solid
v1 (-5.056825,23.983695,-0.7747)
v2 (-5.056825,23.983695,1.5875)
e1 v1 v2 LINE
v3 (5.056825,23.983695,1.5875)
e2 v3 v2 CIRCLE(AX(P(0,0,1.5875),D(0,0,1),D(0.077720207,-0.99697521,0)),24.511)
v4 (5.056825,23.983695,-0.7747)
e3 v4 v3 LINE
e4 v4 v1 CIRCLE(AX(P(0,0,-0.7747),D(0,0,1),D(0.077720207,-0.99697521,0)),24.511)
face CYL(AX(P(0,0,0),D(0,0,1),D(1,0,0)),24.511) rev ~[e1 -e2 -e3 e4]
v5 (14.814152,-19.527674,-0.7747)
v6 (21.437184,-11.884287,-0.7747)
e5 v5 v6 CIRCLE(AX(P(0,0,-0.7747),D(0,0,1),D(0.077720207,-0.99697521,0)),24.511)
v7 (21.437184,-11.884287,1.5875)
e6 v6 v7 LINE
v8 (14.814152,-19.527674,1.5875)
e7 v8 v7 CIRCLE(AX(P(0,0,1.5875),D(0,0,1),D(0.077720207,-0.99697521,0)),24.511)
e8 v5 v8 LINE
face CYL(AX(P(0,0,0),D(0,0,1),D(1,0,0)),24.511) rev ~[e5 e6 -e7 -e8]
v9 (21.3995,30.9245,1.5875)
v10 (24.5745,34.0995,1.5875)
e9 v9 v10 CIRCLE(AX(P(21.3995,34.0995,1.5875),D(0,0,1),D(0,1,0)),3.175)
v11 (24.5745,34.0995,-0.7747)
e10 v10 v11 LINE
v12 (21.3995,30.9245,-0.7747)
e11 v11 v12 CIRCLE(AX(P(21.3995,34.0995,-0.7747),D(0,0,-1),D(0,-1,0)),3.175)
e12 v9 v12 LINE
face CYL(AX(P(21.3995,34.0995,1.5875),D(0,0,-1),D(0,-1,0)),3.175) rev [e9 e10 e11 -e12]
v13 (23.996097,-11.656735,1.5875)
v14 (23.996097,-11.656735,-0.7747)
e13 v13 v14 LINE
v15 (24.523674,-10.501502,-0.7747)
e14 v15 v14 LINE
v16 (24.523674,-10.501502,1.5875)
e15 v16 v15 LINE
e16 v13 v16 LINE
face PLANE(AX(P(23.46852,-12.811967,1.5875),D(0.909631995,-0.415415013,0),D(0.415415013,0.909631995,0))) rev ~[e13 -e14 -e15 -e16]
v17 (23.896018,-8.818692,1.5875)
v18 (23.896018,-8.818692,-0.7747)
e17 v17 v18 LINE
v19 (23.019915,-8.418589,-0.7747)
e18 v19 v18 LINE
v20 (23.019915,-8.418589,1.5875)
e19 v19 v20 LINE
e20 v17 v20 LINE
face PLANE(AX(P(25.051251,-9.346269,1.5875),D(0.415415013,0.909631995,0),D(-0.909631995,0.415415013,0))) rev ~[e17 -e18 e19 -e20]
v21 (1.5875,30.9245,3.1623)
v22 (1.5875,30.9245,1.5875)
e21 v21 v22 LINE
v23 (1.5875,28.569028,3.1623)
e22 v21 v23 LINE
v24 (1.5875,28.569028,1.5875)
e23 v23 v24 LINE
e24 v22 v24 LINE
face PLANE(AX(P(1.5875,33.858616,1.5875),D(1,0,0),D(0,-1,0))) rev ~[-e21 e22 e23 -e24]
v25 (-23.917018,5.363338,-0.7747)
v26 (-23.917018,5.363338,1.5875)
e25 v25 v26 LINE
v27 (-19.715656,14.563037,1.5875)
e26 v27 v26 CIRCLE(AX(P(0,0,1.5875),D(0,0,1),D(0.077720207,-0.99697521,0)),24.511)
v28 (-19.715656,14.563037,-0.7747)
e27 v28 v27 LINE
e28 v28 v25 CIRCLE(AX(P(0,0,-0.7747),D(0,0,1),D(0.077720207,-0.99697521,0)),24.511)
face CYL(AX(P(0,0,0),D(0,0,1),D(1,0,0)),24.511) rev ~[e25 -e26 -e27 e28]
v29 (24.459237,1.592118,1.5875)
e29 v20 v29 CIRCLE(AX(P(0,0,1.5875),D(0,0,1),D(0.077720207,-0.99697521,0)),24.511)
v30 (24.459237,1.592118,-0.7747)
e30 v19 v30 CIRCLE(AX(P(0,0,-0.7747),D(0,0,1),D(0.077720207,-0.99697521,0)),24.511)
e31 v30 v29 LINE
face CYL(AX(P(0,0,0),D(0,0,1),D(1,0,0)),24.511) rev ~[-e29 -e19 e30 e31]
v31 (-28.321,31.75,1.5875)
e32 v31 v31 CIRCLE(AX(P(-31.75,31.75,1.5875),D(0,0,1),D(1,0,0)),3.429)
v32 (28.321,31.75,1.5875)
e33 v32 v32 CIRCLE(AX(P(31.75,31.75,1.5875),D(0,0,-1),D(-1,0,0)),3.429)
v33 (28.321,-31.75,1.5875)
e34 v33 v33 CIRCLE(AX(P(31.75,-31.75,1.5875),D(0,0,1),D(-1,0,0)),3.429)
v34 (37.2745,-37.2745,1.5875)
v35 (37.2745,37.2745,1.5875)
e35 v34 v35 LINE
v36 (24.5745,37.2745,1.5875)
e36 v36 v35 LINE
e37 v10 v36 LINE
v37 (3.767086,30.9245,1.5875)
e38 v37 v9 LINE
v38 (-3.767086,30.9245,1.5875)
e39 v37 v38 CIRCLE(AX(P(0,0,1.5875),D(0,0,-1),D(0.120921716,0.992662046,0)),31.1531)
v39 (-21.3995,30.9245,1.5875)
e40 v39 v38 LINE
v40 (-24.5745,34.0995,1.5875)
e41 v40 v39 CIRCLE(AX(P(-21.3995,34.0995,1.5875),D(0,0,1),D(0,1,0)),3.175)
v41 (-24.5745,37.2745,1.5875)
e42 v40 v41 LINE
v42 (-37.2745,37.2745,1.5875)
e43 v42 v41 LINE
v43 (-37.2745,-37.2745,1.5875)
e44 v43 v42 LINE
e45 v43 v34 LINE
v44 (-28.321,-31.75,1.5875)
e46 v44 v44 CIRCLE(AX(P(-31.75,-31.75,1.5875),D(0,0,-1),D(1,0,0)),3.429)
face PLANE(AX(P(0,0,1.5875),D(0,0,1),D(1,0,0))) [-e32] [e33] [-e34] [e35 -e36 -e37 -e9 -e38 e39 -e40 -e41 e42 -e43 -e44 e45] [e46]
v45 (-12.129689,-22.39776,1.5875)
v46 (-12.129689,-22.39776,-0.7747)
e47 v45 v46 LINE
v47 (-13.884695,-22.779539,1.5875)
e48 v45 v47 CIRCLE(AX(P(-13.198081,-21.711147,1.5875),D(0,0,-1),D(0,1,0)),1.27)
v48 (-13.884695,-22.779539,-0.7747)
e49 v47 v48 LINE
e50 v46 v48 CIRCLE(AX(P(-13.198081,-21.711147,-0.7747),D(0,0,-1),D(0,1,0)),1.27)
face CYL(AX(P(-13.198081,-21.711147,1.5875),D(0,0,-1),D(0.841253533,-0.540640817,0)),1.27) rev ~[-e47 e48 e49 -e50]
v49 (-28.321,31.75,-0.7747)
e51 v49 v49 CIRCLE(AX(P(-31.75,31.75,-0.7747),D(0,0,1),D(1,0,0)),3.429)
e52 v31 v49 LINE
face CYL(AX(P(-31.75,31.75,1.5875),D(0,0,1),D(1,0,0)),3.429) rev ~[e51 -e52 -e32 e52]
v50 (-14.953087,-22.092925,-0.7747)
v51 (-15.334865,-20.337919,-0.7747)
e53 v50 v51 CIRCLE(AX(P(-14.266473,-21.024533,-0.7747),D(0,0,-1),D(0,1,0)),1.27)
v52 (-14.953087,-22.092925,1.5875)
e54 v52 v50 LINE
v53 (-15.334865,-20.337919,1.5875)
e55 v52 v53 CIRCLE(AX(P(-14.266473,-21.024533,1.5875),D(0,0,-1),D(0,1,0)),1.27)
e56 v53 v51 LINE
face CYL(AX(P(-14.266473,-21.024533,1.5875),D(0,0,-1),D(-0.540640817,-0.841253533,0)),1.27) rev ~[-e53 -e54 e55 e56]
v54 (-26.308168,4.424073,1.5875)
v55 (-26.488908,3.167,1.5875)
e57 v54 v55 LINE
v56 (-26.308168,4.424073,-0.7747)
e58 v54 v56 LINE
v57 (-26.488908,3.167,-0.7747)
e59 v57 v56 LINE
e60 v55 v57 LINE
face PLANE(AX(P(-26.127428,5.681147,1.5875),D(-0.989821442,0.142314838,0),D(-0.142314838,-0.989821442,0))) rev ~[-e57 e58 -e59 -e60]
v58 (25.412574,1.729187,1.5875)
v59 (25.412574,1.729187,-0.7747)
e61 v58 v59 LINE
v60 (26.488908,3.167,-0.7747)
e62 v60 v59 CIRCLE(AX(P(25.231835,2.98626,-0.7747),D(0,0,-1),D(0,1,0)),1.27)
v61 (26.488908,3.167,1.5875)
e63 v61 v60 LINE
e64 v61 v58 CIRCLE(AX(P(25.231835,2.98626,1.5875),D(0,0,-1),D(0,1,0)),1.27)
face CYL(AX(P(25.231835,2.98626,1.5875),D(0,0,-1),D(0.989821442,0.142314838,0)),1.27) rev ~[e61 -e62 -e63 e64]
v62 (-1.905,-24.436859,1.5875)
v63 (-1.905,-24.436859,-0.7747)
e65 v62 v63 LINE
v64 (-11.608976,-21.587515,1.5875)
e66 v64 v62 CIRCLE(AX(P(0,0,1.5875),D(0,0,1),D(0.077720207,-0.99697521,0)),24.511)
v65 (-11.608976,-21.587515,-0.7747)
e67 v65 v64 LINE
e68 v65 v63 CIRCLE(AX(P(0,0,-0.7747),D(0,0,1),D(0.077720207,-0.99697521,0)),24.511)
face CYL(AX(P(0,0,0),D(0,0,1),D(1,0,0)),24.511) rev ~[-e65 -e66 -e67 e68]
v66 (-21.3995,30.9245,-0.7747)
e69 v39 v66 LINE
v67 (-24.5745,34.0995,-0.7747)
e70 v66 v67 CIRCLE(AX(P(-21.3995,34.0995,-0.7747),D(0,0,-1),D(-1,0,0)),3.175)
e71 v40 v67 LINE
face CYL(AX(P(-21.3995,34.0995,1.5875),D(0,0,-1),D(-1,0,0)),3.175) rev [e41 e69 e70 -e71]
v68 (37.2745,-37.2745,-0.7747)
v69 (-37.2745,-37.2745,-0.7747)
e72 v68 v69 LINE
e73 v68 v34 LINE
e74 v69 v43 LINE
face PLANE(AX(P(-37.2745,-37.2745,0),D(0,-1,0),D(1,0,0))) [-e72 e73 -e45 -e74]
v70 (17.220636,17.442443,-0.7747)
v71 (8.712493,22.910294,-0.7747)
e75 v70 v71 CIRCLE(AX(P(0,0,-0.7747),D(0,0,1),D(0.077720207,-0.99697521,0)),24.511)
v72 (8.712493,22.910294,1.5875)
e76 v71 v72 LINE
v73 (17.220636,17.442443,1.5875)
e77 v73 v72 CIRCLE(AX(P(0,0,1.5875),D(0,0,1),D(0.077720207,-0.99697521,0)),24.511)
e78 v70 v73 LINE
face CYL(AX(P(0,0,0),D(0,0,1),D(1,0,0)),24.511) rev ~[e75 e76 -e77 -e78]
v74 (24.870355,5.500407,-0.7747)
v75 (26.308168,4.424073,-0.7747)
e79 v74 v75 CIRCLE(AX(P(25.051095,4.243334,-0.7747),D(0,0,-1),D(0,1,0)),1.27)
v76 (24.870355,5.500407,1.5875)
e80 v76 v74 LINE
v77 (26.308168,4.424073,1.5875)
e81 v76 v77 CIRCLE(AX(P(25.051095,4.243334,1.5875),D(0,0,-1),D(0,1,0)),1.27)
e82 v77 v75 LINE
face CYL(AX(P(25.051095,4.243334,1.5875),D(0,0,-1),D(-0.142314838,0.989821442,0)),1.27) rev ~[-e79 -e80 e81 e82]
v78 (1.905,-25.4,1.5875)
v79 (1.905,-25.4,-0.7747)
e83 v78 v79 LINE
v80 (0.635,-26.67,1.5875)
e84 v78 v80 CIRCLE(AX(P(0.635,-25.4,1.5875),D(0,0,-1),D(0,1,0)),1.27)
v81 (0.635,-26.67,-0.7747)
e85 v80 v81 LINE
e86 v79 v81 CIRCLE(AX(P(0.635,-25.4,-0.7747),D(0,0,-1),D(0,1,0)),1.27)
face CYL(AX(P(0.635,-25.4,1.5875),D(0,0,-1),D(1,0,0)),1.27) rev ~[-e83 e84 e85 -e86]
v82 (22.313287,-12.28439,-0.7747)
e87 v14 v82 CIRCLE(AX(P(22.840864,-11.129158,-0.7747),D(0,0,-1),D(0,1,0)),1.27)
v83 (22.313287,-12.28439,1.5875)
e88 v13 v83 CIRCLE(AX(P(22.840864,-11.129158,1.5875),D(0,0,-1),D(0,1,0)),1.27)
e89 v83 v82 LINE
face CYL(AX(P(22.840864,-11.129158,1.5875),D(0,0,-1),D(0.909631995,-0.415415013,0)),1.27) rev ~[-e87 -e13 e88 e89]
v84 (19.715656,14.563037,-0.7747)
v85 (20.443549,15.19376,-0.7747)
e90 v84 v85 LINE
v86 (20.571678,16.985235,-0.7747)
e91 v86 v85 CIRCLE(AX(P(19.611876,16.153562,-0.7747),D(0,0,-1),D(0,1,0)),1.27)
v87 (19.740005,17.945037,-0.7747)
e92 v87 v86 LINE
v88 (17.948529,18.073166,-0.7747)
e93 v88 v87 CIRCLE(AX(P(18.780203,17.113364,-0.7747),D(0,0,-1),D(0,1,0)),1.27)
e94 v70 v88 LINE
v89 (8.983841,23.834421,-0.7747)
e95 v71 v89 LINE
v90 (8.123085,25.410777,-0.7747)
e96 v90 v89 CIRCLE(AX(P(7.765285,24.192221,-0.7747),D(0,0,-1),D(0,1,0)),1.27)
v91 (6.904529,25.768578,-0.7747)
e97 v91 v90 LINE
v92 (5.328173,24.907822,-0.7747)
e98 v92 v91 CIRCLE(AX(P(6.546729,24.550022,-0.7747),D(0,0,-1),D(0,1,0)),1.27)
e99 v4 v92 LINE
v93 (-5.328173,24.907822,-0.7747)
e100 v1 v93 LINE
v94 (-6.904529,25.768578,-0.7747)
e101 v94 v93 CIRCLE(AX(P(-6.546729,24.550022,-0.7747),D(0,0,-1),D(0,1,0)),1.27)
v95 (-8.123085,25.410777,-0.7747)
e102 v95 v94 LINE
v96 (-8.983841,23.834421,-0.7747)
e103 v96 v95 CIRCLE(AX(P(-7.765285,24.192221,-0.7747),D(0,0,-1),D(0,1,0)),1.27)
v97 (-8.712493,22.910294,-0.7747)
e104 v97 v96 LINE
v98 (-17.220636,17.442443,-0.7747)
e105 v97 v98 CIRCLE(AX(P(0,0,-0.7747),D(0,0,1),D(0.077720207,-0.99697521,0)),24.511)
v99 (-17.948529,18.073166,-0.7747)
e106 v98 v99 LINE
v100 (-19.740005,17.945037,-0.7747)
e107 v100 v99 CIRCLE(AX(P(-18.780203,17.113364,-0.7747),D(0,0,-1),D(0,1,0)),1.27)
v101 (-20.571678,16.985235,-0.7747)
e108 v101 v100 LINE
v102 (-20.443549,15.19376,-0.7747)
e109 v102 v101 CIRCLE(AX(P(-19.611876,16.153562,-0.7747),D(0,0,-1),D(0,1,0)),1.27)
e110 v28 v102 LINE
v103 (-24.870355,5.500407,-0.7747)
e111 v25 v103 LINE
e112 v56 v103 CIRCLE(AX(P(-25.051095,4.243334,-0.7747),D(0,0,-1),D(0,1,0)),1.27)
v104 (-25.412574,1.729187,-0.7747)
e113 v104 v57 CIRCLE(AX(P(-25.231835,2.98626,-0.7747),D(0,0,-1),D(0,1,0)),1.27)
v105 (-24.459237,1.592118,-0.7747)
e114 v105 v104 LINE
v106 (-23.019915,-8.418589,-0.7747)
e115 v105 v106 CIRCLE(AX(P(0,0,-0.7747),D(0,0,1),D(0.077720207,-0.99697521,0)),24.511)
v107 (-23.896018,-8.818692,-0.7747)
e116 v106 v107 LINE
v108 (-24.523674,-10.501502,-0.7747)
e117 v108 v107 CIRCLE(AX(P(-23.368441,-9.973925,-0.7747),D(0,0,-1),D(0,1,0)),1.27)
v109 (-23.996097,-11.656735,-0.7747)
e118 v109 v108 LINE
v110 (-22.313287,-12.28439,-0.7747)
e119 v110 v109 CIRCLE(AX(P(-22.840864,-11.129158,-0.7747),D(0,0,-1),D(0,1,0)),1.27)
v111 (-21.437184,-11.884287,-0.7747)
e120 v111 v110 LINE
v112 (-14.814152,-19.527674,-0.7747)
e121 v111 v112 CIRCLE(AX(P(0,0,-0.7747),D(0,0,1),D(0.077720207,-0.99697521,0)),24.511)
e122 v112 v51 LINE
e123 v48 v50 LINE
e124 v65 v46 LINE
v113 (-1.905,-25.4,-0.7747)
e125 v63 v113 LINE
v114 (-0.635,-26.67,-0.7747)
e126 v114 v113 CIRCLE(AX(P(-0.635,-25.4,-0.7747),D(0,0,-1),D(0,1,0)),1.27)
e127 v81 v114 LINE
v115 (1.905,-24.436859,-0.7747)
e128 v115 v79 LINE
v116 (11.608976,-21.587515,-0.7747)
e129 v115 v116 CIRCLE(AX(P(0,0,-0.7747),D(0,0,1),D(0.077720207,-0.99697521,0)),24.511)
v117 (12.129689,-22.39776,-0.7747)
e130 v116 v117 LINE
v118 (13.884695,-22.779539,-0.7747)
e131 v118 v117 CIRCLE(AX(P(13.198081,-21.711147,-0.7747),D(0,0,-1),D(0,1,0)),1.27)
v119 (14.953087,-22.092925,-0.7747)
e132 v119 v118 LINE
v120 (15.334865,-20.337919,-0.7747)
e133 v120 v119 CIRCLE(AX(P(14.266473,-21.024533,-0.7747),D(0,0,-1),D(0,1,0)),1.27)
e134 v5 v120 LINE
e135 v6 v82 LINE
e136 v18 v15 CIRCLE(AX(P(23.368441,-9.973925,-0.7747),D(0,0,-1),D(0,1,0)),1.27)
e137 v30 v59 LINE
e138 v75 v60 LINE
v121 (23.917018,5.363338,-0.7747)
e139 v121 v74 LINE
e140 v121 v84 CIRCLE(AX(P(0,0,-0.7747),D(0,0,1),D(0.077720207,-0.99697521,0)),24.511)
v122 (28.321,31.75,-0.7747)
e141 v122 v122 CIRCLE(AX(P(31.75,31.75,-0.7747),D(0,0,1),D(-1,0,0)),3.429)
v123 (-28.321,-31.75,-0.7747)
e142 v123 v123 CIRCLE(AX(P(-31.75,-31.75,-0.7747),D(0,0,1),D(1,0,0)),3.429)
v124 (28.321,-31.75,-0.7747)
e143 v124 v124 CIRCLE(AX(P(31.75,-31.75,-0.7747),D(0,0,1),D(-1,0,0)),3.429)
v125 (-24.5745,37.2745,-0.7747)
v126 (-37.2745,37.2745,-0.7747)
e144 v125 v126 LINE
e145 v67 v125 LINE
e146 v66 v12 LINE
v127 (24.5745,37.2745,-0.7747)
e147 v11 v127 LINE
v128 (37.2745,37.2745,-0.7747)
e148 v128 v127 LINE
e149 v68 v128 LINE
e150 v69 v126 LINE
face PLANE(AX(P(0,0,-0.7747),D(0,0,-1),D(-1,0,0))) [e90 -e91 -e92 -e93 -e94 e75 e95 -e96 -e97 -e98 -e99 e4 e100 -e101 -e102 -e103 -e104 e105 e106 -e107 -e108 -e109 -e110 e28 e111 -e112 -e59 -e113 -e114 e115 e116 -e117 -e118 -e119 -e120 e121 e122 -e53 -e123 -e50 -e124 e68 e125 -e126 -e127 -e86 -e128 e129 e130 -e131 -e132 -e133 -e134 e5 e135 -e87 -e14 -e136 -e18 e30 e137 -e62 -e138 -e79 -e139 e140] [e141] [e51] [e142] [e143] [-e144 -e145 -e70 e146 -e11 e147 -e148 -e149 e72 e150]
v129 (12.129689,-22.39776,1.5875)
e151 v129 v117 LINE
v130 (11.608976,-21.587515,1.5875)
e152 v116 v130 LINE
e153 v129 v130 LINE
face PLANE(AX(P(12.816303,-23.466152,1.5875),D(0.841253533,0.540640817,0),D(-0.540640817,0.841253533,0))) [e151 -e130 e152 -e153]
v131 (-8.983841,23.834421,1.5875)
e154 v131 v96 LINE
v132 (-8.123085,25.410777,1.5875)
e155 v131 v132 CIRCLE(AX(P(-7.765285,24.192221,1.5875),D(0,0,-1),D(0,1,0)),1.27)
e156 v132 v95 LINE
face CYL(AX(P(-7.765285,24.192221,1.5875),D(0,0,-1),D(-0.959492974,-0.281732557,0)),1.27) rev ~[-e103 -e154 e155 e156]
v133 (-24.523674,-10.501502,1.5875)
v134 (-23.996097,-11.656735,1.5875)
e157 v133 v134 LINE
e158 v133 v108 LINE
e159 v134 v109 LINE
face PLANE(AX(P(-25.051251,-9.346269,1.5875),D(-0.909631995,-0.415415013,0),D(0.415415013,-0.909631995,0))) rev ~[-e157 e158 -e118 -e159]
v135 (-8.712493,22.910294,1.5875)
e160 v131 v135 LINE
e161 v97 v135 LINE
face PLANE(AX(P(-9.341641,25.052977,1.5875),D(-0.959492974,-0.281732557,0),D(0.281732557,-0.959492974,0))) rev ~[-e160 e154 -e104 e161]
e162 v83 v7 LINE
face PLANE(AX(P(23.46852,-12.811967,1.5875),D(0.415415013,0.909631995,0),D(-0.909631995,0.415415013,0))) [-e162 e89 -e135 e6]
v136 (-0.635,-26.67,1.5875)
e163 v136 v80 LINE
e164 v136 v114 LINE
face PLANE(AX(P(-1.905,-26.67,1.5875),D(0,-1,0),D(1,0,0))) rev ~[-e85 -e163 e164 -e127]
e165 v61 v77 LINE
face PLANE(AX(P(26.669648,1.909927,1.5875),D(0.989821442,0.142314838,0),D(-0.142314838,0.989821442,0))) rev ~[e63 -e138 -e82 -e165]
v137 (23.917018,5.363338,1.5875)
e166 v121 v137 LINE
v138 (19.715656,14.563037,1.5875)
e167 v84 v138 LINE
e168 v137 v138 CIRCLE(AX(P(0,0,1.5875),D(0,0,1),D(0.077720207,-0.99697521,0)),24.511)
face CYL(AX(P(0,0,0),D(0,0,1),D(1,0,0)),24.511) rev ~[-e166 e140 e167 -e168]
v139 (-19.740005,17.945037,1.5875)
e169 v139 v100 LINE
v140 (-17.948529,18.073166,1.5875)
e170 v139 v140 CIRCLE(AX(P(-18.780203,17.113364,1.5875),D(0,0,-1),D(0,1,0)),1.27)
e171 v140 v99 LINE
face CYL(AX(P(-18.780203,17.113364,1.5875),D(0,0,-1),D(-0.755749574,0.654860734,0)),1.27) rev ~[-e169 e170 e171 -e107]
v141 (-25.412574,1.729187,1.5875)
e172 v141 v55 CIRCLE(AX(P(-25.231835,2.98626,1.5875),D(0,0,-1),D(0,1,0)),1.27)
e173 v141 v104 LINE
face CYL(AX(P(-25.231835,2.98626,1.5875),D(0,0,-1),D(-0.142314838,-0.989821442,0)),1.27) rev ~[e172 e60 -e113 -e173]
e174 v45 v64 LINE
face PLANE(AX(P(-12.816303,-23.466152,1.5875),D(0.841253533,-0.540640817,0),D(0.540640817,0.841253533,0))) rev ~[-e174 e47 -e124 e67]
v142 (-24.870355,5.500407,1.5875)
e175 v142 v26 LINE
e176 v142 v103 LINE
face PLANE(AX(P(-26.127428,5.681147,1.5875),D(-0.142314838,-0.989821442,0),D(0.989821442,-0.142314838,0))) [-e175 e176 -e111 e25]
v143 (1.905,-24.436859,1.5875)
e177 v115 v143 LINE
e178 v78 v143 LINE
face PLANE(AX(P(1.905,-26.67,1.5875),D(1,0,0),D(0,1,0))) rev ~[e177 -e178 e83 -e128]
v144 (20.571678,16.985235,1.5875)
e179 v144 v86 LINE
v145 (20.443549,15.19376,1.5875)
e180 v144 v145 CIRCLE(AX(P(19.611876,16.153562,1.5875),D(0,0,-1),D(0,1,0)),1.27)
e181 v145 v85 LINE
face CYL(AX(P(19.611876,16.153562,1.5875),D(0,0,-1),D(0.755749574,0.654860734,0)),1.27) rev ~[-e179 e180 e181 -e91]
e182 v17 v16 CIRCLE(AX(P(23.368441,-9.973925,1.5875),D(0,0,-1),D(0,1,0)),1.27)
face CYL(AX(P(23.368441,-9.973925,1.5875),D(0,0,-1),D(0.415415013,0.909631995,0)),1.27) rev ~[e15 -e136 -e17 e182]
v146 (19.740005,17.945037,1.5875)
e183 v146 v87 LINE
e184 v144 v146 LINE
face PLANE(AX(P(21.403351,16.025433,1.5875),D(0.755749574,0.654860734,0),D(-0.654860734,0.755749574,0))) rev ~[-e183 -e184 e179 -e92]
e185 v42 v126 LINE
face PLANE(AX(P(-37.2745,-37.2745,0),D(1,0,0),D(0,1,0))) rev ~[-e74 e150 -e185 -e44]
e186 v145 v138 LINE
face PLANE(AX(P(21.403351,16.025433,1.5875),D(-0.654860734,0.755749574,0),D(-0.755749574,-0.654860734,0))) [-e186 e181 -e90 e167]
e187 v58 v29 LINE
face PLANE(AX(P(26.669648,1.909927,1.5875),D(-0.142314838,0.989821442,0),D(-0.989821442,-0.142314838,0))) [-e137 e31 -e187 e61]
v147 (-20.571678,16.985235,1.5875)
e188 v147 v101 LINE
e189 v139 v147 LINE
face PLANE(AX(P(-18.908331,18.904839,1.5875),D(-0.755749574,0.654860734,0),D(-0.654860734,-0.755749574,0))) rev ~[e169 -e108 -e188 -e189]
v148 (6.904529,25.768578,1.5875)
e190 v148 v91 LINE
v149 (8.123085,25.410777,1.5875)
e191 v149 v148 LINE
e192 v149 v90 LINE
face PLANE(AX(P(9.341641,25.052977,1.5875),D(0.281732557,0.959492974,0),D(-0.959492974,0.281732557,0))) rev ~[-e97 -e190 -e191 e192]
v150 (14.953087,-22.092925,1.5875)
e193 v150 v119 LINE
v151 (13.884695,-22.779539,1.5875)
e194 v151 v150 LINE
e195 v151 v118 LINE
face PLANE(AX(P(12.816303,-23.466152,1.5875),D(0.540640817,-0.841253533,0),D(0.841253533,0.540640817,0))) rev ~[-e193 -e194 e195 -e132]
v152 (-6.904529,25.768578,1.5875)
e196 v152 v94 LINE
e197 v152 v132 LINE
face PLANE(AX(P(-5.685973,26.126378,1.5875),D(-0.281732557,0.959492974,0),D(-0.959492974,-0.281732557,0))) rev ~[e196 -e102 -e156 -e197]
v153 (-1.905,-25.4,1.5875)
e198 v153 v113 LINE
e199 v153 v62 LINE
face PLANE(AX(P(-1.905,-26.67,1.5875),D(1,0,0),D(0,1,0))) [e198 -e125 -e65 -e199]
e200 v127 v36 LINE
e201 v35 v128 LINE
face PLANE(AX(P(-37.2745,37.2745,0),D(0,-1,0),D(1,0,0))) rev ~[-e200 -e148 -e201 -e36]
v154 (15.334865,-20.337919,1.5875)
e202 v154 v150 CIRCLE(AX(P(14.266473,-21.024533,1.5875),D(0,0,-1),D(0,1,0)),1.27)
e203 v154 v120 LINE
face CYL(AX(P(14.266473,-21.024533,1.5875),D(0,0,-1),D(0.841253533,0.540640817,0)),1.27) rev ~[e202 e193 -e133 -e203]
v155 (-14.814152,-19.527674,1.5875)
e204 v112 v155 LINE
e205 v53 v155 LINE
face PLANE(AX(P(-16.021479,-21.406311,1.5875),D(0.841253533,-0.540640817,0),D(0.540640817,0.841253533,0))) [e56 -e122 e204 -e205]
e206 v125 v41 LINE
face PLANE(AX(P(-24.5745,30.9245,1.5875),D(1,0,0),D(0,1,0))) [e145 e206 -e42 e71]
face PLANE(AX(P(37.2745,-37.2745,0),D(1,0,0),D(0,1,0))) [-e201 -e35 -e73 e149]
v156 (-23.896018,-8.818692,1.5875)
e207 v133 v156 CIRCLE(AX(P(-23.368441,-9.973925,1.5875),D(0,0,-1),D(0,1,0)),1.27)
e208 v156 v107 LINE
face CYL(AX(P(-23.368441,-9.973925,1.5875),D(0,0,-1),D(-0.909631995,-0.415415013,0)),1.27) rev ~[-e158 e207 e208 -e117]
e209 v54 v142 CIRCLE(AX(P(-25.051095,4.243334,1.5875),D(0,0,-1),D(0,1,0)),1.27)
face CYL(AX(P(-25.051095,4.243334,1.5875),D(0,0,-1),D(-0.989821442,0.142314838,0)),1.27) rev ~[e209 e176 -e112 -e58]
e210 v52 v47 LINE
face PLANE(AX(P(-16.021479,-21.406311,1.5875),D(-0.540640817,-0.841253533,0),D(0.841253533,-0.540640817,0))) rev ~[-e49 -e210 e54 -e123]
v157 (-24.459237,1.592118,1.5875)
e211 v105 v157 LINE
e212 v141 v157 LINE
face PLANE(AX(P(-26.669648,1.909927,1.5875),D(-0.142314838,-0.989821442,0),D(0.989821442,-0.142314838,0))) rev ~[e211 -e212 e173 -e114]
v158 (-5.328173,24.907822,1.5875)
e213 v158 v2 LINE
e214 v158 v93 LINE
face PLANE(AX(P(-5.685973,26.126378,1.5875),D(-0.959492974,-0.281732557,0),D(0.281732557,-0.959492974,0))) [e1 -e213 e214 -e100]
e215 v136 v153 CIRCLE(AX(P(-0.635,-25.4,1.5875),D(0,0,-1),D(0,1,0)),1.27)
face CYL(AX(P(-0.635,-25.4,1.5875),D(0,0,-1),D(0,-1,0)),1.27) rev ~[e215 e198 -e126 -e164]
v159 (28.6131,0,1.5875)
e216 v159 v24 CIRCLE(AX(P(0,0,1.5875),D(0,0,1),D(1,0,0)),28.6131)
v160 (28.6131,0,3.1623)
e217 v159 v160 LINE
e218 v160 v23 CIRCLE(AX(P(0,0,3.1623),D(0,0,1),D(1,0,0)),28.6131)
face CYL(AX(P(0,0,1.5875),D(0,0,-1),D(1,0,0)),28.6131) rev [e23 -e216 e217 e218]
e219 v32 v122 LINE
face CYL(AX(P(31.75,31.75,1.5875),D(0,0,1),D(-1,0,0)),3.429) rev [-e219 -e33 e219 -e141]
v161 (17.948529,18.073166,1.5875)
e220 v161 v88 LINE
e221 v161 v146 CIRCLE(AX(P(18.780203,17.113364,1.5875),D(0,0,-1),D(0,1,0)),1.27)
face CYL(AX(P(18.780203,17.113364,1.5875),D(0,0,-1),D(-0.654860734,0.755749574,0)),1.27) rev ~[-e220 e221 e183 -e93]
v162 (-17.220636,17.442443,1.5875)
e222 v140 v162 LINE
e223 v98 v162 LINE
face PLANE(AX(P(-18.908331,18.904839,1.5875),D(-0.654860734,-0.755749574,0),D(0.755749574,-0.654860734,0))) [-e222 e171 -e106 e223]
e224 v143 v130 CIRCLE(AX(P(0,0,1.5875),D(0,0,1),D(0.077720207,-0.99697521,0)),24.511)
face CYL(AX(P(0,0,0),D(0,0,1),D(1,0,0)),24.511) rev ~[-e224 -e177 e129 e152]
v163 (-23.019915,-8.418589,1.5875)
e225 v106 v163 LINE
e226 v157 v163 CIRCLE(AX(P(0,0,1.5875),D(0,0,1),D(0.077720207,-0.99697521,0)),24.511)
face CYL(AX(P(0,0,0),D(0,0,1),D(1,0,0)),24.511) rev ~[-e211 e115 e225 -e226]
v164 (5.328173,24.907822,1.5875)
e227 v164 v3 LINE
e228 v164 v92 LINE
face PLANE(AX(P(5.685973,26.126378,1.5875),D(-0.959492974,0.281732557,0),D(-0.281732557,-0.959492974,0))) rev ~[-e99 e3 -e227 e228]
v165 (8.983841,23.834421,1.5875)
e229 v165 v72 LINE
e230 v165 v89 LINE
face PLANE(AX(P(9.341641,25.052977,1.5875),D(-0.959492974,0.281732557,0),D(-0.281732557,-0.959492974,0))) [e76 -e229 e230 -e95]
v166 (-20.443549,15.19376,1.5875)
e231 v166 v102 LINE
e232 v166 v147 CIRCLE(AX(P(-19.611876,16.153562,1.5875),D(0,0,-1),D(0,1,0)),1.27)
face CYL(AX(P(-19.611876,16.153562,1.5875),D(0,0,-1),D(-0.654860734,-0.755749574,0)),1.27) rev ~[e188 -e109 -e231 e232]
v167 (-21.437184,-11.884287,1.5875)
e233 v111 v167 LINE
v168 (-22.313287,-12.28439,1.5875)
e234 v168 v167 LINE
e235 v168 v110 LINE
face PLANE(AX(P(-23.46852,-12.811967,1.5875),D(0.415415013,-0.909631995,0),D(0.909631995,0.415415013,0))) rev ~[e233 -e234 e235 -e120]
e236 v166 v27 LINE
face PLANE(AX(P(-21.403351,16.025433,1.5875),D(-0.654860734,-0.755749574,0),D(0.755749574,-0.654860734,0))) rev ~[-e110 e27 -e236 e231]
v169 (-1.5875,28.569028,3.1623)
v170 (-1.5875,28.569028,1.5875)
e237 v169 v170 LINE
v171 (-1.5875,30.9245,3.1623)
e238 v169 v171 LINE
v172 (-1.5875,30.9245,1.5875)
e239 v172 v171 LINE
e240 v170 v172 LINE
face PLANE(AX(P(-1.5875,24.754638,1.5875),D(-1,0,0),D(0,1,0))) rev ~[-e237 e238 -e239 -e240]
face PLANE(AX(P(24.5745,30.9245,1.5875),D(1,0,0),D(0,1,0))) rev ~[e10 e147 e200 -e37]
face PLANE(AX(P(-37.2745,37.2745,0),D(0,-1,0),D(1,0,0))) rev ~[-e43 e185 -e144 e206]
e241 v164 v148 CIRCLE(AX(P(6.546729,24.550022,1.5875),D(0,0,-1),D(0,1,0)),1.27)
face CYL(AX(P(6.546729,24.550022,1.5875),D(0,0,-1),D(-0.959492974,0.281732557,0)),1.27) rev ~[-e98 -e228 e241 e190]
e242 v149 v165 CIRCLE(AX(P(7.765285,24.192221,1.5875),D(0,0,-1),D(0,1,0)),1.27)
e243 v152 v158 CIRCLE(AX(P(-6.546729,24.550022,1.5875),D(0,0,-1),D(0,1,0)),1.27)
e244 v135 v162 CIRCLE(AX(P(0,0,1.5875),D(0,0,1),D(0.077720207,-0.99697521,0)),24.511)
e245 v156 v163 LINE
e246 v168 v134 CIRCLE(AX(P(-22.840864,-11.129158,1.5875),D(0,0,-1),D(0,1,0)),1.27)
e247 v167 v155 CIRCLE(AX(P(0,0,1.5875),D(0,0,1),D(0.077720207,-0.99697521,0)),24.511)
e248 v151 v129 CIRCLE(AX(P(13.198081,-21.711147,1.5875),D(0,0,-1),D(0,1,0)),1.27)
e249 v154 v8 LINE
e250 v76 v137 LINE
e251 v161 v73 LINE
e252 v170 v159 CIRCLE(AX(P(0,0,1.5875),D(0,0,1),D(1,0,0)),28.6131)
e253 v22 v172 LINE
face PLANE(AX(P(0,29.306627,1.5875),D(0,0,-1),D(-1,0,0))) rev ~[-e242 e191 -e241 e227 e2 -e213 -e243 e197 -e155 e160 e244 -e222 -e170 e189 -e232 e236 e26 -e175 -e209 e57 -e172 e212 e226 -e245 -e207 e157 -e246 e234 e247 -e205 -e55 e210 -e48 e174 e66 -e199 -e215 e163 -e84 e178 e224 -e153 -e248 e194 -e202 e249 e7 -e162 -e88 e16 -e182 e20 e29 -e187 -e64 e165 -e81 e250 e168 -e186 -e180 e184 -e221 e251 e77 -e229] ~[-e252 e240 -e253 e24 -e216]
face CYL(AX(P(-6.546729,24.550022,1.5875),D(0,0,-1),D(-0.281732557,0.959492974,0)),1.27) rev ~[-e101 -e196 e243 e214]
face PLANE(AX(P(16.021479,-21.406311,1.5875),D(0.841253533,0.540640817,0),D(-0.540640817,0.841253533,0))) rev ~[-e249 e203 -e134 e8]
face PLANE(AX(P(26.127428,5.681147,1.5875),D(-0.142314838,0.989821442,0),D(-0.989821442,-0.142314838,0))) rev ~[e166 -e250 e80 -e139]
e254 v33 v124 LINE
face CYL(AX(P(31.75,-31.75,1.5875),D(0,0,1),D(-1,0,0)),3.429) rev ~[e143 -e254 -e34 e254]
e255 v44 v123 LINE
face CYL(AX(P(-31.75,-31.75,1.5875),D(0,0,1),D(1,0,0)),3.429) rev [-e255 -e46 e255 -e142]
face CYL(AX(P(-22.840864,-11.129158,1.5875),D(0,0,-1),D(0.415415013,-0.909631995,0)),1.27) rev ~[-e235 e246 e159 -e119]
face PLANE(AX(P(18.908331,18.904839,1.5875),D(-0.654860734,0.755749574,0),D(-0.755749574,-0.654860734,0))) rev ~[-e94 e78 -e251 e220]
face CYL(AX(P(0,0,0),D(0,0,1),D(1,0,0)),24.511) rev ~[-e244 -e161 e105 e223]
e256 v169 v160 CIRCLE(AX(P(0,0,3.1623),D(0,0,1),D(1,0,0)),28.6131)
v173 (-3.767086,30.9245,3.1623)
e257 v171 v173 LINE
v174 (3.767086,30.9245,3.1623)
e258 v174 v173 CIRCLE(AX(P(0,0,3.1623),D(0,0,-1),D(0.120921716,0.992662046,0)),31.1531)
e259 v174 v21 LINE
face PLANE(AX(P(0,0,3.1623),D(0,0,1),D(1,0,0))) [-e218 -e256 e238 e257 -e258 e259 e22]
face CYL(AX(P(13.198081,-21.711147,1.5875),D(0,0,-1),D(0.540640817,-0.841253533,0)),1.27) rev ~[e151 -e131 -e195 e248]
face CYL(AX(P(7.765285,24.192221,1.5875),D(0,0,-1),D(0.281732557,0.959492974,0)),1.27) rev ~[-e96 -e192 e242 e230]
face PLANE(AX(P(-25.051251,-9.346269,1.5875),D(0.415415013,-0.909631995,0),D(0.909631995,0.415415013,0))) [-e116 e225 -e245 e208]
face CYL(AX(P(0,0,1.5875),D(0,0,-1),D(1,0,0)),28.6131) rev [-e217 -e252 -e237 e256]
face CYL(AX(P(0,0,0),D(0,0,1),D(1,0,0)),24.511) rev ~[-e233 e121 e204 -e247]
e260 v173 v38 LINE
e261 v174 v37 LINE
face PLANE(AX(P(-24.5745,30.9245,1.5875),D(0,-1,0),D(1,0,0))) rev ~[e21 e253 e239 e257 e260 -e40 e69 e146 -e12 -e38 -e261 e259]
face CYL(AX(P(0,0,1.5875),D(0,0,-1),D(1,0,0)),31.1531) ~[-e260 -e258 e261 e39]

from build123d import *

# Parameters (mm, degrees)
SKETCH1_W                = 74.549
SKETCH1_H                = 74.549
SKETCH1_R                = 24.511
BOSS_EXTRUDE1_DEPTH      = 1.5875
BOSS_EXTRUDE1_DEPTH_BACK = 1.5875
SKETCH2_R                = 3.429
CUT_EXTRUDE1_DEPTH       = 4.175
MIRROR2_COPY_1_SKETCH_R  = 3.429
MIRROR2_COPY_1_DEPTH     = 4.175
SKETCH15_R               = 31.1531
SKETCH15_R_2             = 28.6131
BOSS_EXTRUDE11_DEPTH     = 1.5748
SKETCH14_W               = 49.149
SKETCH14_H               = 8.290530285
CUT_EXTRUDE6_DEPTH       = 2.5748
CUT_EXTRUDE6_DEPTH_BACK  = 4.175
FILLET2_R                = 3.175
CUT_EXTRUDE8_REACH       = 3.575
SKETCH18_W               = 74.549
SKETCH18_H               = 74.549
CUT_EXTRUDE9_DEPTH       = 0.8128
SKETCH19_W               = 3.81
SKETCH19_H               = 6.35
CUT_EXTRUDE10_DEPTH      = 3.3622
FILLET3_R                = 1.27
CIRPATTERN2_COUNT        = 11
FILLET3_OF_CIRPATTERN2_R = 1.27


with BuildPart() as part:
    # Sketch1 → Boss-Extrude1 (new body, two sides)
    with BuildSketch(Plane.XY) as boss_extrude1_sk:
        Rectangle(SKETCH1_W, SKETCH1_H)
        Circle(SKETCH1_R, mode=Mode.SUBTRACT)
    extrude(amount=BOSS_EXTRUDE1_DEPTH)
    extrude(boss_extrude1_sk.sketch, amount=-BOSS_EXTRUDE1_DEPTH_BACK)

    # Sketch2 → Cut-Extrude1 (cut, through all)
    with BuildSketch(Plane.XY.offset(1.5875)):
        with Locations((-31.75, 31.75)):
            Circle(SKETCH2_R)
    cut_extrude1 = extrude(amount=-CUT_EXTRUDE1_DEPTH, mode=Mode.SUBTRACT)

    # Mirror1: Cut-Extrude1 across plane
    add(cut_extrude1.mirror(Plane(origin=(0, 0, 0), x_dir=(0, 0, 1), z_dir=(1, 0, 0))), mode=Mode.SUBTRACT)

    # Mirror2: Cut-Extrude1 across plane
    add(cut_extrude1.mirror(Plane.ZX), mode=Mode.SUBTRACT)

    # Mirror2 copy 1 sketch → Mirror2 copy 1 (cut, through all)
    with BuildSketch(Plane(origin=(0, 0, 1.5875), x_dir=(-1, 0, 0), z_dir=(0, 0, 1))):
        with Locations((-31.75, 31.75)):
            Circle(MIRROR2_COPY_1_SKETCH_R)
    extrude(amount=-MIRROR2_COPY_1_DEPTH, mode=Mode.SUBTRACT)

    # Sketch15 → Boss-Extrude11 (add)
    with BuildSketch(Plane.XY.offset(1.5875)):
        Circle(SKETCH15_R)
        Circle(SKETCH15_R_2, mode=Mode.SUBTRACT)
    extrude(amount=BOSS_EXTRUDE11_DEPTH)

    # Sketch14 → Cut-Extrude6 (cut, two sides)
    with BuildSketch(Plane.XY.offset(1.5875)) as cut_extrude6_sk:
        with Locations((0, 35.069765143)):
            Rectangle(SKETCH14_W, SKETCH14_H)
    extrude(amount=CUT_EXTRUDE6_DEPTH, mode=Mode.SUBTRACT)
    extrude(cut_extrude6_sk.sketch, amount=-CUT_EXTRUDE6_DEPTH_BACK, mode=Mode.SUBTRACT)

    # Fillet2
    fillet2_edges = [part.edges().sort_by_distance(p)[0] for p in [
        (-24.5745, 30.9245, 0),
        (24.5745, 30.9245, 0),
    ]]
    fillet(fillet2_edges, radius=FILLET2_R)

    # Sketch17 → Cut-Extrude8 (cut, up to next)
    with BuildSketch(Plane.XY.offset(1.5875), mode=Mode.PRIVATE) as cut_extrude8_sk1:
        with BuildLine():
            Line((-1.5875, 24.754637718), (-1.5875, 33.858616052))
            ThreePointArc((-1.5875, 33.858616052), (0, 35.446116052), (1.5875, 33.858616052))
            Line((1.5875, 33.858616052), (1.5875, 24.754637718))
            ThreePointArc((1.5875, 24.754637718), (0, 23.167137718), (-1.5875, 24.754637718))
        make_face()
    cut_extrude8_tool1 = extrude(cut_extrude8_sk1.sketch, amount=CUT_EXTRUDE8_REACH, mode=Mode.PRIVATE) & part.part
    add(cut_extrude8_tool1.solids().sort_by_distance((0, 29.306627, 1.5875))[0], mode=Mode.SUBTRACT)

    # Sketch18 → Cut-Extrude9 (cut)
    with BuildSketch(Plane(origin=(0, 0, -1.5875), x_dir=(-1, 0, 0), z_dir=(0, 0, -1))):
        Rectangle(SKETCH18_W, SKETCH18_H)
    extrude(amount=-CUT_EXTRUDE9_DEPTH, mode=Mode.SUBTRACT)

    # Sketch19 → Cut-Extrude10 (cut, through all)
    with BuildSketch(Plane.XY.offset(1.5875)):
        with Locations((0, -23.495)):
            Rectangle(SKETCH19_W, SKETCH19_H)
    cut_extrude10 = extrude(amount=-CUT_EXTRUDE10_DEPTH, mode=Mode.SUBTRACT)

    # Fillet3
    fillet3_edges = [part.edges().sort_by_distance(p)[0] for p in [
        (-1.905, -26.67, 0.4064),
        (1.905, -26.67, 0.4064),
    ]]
    fillet(fillet3_edges, radius=FILLET3_R)

    # CirPattern2: Cut-Extrude10 ×11 about axis
    cirpattern2_axis = Axis((0, 0, 0), (0, 0, 1))
    for i in range(1, CIRPATTERN2_COUNT):
        add(cut_extrude10.rotate(cirpattern2_axis, i * 360 / CIRPATTERN2_COUNT), mode=Mode.SUBTRACT)

    # Fillet3 of CirPattern2
    fillet3_of_cirpattern2_edges = [part.edges().sort_by_distance(p)[0] for p in [
        (12.816302621, -23.466152478, 0.4064),
        (16.021478582, -21.406310963, 0.4064),
        (23.468519716, -12.811967348, 0.4064),
        (25.051250916, -9.346269446, 0.4064),
        (26.669647622, 1.90992689, 0.4064),
        (26.127428088, 5.681146584, 0.4064),
        (21.403350846, 16.025432835, 0.4064),
        (18.90833145, 18.904838713, 0.4064),
        (9.341641406, 25.052977086, 0.4064),
        (5.685973176, 26.126378127, 0.4064),
        (-5.685973176, 26.126378127, 0.4064),
        (-9.341641406, 25.052977086, 0.4064),
        (-18.90833145, 18.904838713, 0.4064),
        (-21.403350846, 16.025432835, 0.4064),
        (-26.127428088, 5.681146584, 0.4064),
        (-26.669647622, 1.90992689, 0.4064),
        (-25.051250916, -9.346269446, 0.4064),
        (-23.468519716, -12.811967348, 0.4064),
        (-16.021478582, -21.406310963, 0.4064),
        (-12.816302621, -23.466152478, 0.4064),
    ]]
    fillet(fillet3_of_cirpattern2_edges, radius=FILLET3_OF_CIRPATTERN2_R)


solid = part.part
